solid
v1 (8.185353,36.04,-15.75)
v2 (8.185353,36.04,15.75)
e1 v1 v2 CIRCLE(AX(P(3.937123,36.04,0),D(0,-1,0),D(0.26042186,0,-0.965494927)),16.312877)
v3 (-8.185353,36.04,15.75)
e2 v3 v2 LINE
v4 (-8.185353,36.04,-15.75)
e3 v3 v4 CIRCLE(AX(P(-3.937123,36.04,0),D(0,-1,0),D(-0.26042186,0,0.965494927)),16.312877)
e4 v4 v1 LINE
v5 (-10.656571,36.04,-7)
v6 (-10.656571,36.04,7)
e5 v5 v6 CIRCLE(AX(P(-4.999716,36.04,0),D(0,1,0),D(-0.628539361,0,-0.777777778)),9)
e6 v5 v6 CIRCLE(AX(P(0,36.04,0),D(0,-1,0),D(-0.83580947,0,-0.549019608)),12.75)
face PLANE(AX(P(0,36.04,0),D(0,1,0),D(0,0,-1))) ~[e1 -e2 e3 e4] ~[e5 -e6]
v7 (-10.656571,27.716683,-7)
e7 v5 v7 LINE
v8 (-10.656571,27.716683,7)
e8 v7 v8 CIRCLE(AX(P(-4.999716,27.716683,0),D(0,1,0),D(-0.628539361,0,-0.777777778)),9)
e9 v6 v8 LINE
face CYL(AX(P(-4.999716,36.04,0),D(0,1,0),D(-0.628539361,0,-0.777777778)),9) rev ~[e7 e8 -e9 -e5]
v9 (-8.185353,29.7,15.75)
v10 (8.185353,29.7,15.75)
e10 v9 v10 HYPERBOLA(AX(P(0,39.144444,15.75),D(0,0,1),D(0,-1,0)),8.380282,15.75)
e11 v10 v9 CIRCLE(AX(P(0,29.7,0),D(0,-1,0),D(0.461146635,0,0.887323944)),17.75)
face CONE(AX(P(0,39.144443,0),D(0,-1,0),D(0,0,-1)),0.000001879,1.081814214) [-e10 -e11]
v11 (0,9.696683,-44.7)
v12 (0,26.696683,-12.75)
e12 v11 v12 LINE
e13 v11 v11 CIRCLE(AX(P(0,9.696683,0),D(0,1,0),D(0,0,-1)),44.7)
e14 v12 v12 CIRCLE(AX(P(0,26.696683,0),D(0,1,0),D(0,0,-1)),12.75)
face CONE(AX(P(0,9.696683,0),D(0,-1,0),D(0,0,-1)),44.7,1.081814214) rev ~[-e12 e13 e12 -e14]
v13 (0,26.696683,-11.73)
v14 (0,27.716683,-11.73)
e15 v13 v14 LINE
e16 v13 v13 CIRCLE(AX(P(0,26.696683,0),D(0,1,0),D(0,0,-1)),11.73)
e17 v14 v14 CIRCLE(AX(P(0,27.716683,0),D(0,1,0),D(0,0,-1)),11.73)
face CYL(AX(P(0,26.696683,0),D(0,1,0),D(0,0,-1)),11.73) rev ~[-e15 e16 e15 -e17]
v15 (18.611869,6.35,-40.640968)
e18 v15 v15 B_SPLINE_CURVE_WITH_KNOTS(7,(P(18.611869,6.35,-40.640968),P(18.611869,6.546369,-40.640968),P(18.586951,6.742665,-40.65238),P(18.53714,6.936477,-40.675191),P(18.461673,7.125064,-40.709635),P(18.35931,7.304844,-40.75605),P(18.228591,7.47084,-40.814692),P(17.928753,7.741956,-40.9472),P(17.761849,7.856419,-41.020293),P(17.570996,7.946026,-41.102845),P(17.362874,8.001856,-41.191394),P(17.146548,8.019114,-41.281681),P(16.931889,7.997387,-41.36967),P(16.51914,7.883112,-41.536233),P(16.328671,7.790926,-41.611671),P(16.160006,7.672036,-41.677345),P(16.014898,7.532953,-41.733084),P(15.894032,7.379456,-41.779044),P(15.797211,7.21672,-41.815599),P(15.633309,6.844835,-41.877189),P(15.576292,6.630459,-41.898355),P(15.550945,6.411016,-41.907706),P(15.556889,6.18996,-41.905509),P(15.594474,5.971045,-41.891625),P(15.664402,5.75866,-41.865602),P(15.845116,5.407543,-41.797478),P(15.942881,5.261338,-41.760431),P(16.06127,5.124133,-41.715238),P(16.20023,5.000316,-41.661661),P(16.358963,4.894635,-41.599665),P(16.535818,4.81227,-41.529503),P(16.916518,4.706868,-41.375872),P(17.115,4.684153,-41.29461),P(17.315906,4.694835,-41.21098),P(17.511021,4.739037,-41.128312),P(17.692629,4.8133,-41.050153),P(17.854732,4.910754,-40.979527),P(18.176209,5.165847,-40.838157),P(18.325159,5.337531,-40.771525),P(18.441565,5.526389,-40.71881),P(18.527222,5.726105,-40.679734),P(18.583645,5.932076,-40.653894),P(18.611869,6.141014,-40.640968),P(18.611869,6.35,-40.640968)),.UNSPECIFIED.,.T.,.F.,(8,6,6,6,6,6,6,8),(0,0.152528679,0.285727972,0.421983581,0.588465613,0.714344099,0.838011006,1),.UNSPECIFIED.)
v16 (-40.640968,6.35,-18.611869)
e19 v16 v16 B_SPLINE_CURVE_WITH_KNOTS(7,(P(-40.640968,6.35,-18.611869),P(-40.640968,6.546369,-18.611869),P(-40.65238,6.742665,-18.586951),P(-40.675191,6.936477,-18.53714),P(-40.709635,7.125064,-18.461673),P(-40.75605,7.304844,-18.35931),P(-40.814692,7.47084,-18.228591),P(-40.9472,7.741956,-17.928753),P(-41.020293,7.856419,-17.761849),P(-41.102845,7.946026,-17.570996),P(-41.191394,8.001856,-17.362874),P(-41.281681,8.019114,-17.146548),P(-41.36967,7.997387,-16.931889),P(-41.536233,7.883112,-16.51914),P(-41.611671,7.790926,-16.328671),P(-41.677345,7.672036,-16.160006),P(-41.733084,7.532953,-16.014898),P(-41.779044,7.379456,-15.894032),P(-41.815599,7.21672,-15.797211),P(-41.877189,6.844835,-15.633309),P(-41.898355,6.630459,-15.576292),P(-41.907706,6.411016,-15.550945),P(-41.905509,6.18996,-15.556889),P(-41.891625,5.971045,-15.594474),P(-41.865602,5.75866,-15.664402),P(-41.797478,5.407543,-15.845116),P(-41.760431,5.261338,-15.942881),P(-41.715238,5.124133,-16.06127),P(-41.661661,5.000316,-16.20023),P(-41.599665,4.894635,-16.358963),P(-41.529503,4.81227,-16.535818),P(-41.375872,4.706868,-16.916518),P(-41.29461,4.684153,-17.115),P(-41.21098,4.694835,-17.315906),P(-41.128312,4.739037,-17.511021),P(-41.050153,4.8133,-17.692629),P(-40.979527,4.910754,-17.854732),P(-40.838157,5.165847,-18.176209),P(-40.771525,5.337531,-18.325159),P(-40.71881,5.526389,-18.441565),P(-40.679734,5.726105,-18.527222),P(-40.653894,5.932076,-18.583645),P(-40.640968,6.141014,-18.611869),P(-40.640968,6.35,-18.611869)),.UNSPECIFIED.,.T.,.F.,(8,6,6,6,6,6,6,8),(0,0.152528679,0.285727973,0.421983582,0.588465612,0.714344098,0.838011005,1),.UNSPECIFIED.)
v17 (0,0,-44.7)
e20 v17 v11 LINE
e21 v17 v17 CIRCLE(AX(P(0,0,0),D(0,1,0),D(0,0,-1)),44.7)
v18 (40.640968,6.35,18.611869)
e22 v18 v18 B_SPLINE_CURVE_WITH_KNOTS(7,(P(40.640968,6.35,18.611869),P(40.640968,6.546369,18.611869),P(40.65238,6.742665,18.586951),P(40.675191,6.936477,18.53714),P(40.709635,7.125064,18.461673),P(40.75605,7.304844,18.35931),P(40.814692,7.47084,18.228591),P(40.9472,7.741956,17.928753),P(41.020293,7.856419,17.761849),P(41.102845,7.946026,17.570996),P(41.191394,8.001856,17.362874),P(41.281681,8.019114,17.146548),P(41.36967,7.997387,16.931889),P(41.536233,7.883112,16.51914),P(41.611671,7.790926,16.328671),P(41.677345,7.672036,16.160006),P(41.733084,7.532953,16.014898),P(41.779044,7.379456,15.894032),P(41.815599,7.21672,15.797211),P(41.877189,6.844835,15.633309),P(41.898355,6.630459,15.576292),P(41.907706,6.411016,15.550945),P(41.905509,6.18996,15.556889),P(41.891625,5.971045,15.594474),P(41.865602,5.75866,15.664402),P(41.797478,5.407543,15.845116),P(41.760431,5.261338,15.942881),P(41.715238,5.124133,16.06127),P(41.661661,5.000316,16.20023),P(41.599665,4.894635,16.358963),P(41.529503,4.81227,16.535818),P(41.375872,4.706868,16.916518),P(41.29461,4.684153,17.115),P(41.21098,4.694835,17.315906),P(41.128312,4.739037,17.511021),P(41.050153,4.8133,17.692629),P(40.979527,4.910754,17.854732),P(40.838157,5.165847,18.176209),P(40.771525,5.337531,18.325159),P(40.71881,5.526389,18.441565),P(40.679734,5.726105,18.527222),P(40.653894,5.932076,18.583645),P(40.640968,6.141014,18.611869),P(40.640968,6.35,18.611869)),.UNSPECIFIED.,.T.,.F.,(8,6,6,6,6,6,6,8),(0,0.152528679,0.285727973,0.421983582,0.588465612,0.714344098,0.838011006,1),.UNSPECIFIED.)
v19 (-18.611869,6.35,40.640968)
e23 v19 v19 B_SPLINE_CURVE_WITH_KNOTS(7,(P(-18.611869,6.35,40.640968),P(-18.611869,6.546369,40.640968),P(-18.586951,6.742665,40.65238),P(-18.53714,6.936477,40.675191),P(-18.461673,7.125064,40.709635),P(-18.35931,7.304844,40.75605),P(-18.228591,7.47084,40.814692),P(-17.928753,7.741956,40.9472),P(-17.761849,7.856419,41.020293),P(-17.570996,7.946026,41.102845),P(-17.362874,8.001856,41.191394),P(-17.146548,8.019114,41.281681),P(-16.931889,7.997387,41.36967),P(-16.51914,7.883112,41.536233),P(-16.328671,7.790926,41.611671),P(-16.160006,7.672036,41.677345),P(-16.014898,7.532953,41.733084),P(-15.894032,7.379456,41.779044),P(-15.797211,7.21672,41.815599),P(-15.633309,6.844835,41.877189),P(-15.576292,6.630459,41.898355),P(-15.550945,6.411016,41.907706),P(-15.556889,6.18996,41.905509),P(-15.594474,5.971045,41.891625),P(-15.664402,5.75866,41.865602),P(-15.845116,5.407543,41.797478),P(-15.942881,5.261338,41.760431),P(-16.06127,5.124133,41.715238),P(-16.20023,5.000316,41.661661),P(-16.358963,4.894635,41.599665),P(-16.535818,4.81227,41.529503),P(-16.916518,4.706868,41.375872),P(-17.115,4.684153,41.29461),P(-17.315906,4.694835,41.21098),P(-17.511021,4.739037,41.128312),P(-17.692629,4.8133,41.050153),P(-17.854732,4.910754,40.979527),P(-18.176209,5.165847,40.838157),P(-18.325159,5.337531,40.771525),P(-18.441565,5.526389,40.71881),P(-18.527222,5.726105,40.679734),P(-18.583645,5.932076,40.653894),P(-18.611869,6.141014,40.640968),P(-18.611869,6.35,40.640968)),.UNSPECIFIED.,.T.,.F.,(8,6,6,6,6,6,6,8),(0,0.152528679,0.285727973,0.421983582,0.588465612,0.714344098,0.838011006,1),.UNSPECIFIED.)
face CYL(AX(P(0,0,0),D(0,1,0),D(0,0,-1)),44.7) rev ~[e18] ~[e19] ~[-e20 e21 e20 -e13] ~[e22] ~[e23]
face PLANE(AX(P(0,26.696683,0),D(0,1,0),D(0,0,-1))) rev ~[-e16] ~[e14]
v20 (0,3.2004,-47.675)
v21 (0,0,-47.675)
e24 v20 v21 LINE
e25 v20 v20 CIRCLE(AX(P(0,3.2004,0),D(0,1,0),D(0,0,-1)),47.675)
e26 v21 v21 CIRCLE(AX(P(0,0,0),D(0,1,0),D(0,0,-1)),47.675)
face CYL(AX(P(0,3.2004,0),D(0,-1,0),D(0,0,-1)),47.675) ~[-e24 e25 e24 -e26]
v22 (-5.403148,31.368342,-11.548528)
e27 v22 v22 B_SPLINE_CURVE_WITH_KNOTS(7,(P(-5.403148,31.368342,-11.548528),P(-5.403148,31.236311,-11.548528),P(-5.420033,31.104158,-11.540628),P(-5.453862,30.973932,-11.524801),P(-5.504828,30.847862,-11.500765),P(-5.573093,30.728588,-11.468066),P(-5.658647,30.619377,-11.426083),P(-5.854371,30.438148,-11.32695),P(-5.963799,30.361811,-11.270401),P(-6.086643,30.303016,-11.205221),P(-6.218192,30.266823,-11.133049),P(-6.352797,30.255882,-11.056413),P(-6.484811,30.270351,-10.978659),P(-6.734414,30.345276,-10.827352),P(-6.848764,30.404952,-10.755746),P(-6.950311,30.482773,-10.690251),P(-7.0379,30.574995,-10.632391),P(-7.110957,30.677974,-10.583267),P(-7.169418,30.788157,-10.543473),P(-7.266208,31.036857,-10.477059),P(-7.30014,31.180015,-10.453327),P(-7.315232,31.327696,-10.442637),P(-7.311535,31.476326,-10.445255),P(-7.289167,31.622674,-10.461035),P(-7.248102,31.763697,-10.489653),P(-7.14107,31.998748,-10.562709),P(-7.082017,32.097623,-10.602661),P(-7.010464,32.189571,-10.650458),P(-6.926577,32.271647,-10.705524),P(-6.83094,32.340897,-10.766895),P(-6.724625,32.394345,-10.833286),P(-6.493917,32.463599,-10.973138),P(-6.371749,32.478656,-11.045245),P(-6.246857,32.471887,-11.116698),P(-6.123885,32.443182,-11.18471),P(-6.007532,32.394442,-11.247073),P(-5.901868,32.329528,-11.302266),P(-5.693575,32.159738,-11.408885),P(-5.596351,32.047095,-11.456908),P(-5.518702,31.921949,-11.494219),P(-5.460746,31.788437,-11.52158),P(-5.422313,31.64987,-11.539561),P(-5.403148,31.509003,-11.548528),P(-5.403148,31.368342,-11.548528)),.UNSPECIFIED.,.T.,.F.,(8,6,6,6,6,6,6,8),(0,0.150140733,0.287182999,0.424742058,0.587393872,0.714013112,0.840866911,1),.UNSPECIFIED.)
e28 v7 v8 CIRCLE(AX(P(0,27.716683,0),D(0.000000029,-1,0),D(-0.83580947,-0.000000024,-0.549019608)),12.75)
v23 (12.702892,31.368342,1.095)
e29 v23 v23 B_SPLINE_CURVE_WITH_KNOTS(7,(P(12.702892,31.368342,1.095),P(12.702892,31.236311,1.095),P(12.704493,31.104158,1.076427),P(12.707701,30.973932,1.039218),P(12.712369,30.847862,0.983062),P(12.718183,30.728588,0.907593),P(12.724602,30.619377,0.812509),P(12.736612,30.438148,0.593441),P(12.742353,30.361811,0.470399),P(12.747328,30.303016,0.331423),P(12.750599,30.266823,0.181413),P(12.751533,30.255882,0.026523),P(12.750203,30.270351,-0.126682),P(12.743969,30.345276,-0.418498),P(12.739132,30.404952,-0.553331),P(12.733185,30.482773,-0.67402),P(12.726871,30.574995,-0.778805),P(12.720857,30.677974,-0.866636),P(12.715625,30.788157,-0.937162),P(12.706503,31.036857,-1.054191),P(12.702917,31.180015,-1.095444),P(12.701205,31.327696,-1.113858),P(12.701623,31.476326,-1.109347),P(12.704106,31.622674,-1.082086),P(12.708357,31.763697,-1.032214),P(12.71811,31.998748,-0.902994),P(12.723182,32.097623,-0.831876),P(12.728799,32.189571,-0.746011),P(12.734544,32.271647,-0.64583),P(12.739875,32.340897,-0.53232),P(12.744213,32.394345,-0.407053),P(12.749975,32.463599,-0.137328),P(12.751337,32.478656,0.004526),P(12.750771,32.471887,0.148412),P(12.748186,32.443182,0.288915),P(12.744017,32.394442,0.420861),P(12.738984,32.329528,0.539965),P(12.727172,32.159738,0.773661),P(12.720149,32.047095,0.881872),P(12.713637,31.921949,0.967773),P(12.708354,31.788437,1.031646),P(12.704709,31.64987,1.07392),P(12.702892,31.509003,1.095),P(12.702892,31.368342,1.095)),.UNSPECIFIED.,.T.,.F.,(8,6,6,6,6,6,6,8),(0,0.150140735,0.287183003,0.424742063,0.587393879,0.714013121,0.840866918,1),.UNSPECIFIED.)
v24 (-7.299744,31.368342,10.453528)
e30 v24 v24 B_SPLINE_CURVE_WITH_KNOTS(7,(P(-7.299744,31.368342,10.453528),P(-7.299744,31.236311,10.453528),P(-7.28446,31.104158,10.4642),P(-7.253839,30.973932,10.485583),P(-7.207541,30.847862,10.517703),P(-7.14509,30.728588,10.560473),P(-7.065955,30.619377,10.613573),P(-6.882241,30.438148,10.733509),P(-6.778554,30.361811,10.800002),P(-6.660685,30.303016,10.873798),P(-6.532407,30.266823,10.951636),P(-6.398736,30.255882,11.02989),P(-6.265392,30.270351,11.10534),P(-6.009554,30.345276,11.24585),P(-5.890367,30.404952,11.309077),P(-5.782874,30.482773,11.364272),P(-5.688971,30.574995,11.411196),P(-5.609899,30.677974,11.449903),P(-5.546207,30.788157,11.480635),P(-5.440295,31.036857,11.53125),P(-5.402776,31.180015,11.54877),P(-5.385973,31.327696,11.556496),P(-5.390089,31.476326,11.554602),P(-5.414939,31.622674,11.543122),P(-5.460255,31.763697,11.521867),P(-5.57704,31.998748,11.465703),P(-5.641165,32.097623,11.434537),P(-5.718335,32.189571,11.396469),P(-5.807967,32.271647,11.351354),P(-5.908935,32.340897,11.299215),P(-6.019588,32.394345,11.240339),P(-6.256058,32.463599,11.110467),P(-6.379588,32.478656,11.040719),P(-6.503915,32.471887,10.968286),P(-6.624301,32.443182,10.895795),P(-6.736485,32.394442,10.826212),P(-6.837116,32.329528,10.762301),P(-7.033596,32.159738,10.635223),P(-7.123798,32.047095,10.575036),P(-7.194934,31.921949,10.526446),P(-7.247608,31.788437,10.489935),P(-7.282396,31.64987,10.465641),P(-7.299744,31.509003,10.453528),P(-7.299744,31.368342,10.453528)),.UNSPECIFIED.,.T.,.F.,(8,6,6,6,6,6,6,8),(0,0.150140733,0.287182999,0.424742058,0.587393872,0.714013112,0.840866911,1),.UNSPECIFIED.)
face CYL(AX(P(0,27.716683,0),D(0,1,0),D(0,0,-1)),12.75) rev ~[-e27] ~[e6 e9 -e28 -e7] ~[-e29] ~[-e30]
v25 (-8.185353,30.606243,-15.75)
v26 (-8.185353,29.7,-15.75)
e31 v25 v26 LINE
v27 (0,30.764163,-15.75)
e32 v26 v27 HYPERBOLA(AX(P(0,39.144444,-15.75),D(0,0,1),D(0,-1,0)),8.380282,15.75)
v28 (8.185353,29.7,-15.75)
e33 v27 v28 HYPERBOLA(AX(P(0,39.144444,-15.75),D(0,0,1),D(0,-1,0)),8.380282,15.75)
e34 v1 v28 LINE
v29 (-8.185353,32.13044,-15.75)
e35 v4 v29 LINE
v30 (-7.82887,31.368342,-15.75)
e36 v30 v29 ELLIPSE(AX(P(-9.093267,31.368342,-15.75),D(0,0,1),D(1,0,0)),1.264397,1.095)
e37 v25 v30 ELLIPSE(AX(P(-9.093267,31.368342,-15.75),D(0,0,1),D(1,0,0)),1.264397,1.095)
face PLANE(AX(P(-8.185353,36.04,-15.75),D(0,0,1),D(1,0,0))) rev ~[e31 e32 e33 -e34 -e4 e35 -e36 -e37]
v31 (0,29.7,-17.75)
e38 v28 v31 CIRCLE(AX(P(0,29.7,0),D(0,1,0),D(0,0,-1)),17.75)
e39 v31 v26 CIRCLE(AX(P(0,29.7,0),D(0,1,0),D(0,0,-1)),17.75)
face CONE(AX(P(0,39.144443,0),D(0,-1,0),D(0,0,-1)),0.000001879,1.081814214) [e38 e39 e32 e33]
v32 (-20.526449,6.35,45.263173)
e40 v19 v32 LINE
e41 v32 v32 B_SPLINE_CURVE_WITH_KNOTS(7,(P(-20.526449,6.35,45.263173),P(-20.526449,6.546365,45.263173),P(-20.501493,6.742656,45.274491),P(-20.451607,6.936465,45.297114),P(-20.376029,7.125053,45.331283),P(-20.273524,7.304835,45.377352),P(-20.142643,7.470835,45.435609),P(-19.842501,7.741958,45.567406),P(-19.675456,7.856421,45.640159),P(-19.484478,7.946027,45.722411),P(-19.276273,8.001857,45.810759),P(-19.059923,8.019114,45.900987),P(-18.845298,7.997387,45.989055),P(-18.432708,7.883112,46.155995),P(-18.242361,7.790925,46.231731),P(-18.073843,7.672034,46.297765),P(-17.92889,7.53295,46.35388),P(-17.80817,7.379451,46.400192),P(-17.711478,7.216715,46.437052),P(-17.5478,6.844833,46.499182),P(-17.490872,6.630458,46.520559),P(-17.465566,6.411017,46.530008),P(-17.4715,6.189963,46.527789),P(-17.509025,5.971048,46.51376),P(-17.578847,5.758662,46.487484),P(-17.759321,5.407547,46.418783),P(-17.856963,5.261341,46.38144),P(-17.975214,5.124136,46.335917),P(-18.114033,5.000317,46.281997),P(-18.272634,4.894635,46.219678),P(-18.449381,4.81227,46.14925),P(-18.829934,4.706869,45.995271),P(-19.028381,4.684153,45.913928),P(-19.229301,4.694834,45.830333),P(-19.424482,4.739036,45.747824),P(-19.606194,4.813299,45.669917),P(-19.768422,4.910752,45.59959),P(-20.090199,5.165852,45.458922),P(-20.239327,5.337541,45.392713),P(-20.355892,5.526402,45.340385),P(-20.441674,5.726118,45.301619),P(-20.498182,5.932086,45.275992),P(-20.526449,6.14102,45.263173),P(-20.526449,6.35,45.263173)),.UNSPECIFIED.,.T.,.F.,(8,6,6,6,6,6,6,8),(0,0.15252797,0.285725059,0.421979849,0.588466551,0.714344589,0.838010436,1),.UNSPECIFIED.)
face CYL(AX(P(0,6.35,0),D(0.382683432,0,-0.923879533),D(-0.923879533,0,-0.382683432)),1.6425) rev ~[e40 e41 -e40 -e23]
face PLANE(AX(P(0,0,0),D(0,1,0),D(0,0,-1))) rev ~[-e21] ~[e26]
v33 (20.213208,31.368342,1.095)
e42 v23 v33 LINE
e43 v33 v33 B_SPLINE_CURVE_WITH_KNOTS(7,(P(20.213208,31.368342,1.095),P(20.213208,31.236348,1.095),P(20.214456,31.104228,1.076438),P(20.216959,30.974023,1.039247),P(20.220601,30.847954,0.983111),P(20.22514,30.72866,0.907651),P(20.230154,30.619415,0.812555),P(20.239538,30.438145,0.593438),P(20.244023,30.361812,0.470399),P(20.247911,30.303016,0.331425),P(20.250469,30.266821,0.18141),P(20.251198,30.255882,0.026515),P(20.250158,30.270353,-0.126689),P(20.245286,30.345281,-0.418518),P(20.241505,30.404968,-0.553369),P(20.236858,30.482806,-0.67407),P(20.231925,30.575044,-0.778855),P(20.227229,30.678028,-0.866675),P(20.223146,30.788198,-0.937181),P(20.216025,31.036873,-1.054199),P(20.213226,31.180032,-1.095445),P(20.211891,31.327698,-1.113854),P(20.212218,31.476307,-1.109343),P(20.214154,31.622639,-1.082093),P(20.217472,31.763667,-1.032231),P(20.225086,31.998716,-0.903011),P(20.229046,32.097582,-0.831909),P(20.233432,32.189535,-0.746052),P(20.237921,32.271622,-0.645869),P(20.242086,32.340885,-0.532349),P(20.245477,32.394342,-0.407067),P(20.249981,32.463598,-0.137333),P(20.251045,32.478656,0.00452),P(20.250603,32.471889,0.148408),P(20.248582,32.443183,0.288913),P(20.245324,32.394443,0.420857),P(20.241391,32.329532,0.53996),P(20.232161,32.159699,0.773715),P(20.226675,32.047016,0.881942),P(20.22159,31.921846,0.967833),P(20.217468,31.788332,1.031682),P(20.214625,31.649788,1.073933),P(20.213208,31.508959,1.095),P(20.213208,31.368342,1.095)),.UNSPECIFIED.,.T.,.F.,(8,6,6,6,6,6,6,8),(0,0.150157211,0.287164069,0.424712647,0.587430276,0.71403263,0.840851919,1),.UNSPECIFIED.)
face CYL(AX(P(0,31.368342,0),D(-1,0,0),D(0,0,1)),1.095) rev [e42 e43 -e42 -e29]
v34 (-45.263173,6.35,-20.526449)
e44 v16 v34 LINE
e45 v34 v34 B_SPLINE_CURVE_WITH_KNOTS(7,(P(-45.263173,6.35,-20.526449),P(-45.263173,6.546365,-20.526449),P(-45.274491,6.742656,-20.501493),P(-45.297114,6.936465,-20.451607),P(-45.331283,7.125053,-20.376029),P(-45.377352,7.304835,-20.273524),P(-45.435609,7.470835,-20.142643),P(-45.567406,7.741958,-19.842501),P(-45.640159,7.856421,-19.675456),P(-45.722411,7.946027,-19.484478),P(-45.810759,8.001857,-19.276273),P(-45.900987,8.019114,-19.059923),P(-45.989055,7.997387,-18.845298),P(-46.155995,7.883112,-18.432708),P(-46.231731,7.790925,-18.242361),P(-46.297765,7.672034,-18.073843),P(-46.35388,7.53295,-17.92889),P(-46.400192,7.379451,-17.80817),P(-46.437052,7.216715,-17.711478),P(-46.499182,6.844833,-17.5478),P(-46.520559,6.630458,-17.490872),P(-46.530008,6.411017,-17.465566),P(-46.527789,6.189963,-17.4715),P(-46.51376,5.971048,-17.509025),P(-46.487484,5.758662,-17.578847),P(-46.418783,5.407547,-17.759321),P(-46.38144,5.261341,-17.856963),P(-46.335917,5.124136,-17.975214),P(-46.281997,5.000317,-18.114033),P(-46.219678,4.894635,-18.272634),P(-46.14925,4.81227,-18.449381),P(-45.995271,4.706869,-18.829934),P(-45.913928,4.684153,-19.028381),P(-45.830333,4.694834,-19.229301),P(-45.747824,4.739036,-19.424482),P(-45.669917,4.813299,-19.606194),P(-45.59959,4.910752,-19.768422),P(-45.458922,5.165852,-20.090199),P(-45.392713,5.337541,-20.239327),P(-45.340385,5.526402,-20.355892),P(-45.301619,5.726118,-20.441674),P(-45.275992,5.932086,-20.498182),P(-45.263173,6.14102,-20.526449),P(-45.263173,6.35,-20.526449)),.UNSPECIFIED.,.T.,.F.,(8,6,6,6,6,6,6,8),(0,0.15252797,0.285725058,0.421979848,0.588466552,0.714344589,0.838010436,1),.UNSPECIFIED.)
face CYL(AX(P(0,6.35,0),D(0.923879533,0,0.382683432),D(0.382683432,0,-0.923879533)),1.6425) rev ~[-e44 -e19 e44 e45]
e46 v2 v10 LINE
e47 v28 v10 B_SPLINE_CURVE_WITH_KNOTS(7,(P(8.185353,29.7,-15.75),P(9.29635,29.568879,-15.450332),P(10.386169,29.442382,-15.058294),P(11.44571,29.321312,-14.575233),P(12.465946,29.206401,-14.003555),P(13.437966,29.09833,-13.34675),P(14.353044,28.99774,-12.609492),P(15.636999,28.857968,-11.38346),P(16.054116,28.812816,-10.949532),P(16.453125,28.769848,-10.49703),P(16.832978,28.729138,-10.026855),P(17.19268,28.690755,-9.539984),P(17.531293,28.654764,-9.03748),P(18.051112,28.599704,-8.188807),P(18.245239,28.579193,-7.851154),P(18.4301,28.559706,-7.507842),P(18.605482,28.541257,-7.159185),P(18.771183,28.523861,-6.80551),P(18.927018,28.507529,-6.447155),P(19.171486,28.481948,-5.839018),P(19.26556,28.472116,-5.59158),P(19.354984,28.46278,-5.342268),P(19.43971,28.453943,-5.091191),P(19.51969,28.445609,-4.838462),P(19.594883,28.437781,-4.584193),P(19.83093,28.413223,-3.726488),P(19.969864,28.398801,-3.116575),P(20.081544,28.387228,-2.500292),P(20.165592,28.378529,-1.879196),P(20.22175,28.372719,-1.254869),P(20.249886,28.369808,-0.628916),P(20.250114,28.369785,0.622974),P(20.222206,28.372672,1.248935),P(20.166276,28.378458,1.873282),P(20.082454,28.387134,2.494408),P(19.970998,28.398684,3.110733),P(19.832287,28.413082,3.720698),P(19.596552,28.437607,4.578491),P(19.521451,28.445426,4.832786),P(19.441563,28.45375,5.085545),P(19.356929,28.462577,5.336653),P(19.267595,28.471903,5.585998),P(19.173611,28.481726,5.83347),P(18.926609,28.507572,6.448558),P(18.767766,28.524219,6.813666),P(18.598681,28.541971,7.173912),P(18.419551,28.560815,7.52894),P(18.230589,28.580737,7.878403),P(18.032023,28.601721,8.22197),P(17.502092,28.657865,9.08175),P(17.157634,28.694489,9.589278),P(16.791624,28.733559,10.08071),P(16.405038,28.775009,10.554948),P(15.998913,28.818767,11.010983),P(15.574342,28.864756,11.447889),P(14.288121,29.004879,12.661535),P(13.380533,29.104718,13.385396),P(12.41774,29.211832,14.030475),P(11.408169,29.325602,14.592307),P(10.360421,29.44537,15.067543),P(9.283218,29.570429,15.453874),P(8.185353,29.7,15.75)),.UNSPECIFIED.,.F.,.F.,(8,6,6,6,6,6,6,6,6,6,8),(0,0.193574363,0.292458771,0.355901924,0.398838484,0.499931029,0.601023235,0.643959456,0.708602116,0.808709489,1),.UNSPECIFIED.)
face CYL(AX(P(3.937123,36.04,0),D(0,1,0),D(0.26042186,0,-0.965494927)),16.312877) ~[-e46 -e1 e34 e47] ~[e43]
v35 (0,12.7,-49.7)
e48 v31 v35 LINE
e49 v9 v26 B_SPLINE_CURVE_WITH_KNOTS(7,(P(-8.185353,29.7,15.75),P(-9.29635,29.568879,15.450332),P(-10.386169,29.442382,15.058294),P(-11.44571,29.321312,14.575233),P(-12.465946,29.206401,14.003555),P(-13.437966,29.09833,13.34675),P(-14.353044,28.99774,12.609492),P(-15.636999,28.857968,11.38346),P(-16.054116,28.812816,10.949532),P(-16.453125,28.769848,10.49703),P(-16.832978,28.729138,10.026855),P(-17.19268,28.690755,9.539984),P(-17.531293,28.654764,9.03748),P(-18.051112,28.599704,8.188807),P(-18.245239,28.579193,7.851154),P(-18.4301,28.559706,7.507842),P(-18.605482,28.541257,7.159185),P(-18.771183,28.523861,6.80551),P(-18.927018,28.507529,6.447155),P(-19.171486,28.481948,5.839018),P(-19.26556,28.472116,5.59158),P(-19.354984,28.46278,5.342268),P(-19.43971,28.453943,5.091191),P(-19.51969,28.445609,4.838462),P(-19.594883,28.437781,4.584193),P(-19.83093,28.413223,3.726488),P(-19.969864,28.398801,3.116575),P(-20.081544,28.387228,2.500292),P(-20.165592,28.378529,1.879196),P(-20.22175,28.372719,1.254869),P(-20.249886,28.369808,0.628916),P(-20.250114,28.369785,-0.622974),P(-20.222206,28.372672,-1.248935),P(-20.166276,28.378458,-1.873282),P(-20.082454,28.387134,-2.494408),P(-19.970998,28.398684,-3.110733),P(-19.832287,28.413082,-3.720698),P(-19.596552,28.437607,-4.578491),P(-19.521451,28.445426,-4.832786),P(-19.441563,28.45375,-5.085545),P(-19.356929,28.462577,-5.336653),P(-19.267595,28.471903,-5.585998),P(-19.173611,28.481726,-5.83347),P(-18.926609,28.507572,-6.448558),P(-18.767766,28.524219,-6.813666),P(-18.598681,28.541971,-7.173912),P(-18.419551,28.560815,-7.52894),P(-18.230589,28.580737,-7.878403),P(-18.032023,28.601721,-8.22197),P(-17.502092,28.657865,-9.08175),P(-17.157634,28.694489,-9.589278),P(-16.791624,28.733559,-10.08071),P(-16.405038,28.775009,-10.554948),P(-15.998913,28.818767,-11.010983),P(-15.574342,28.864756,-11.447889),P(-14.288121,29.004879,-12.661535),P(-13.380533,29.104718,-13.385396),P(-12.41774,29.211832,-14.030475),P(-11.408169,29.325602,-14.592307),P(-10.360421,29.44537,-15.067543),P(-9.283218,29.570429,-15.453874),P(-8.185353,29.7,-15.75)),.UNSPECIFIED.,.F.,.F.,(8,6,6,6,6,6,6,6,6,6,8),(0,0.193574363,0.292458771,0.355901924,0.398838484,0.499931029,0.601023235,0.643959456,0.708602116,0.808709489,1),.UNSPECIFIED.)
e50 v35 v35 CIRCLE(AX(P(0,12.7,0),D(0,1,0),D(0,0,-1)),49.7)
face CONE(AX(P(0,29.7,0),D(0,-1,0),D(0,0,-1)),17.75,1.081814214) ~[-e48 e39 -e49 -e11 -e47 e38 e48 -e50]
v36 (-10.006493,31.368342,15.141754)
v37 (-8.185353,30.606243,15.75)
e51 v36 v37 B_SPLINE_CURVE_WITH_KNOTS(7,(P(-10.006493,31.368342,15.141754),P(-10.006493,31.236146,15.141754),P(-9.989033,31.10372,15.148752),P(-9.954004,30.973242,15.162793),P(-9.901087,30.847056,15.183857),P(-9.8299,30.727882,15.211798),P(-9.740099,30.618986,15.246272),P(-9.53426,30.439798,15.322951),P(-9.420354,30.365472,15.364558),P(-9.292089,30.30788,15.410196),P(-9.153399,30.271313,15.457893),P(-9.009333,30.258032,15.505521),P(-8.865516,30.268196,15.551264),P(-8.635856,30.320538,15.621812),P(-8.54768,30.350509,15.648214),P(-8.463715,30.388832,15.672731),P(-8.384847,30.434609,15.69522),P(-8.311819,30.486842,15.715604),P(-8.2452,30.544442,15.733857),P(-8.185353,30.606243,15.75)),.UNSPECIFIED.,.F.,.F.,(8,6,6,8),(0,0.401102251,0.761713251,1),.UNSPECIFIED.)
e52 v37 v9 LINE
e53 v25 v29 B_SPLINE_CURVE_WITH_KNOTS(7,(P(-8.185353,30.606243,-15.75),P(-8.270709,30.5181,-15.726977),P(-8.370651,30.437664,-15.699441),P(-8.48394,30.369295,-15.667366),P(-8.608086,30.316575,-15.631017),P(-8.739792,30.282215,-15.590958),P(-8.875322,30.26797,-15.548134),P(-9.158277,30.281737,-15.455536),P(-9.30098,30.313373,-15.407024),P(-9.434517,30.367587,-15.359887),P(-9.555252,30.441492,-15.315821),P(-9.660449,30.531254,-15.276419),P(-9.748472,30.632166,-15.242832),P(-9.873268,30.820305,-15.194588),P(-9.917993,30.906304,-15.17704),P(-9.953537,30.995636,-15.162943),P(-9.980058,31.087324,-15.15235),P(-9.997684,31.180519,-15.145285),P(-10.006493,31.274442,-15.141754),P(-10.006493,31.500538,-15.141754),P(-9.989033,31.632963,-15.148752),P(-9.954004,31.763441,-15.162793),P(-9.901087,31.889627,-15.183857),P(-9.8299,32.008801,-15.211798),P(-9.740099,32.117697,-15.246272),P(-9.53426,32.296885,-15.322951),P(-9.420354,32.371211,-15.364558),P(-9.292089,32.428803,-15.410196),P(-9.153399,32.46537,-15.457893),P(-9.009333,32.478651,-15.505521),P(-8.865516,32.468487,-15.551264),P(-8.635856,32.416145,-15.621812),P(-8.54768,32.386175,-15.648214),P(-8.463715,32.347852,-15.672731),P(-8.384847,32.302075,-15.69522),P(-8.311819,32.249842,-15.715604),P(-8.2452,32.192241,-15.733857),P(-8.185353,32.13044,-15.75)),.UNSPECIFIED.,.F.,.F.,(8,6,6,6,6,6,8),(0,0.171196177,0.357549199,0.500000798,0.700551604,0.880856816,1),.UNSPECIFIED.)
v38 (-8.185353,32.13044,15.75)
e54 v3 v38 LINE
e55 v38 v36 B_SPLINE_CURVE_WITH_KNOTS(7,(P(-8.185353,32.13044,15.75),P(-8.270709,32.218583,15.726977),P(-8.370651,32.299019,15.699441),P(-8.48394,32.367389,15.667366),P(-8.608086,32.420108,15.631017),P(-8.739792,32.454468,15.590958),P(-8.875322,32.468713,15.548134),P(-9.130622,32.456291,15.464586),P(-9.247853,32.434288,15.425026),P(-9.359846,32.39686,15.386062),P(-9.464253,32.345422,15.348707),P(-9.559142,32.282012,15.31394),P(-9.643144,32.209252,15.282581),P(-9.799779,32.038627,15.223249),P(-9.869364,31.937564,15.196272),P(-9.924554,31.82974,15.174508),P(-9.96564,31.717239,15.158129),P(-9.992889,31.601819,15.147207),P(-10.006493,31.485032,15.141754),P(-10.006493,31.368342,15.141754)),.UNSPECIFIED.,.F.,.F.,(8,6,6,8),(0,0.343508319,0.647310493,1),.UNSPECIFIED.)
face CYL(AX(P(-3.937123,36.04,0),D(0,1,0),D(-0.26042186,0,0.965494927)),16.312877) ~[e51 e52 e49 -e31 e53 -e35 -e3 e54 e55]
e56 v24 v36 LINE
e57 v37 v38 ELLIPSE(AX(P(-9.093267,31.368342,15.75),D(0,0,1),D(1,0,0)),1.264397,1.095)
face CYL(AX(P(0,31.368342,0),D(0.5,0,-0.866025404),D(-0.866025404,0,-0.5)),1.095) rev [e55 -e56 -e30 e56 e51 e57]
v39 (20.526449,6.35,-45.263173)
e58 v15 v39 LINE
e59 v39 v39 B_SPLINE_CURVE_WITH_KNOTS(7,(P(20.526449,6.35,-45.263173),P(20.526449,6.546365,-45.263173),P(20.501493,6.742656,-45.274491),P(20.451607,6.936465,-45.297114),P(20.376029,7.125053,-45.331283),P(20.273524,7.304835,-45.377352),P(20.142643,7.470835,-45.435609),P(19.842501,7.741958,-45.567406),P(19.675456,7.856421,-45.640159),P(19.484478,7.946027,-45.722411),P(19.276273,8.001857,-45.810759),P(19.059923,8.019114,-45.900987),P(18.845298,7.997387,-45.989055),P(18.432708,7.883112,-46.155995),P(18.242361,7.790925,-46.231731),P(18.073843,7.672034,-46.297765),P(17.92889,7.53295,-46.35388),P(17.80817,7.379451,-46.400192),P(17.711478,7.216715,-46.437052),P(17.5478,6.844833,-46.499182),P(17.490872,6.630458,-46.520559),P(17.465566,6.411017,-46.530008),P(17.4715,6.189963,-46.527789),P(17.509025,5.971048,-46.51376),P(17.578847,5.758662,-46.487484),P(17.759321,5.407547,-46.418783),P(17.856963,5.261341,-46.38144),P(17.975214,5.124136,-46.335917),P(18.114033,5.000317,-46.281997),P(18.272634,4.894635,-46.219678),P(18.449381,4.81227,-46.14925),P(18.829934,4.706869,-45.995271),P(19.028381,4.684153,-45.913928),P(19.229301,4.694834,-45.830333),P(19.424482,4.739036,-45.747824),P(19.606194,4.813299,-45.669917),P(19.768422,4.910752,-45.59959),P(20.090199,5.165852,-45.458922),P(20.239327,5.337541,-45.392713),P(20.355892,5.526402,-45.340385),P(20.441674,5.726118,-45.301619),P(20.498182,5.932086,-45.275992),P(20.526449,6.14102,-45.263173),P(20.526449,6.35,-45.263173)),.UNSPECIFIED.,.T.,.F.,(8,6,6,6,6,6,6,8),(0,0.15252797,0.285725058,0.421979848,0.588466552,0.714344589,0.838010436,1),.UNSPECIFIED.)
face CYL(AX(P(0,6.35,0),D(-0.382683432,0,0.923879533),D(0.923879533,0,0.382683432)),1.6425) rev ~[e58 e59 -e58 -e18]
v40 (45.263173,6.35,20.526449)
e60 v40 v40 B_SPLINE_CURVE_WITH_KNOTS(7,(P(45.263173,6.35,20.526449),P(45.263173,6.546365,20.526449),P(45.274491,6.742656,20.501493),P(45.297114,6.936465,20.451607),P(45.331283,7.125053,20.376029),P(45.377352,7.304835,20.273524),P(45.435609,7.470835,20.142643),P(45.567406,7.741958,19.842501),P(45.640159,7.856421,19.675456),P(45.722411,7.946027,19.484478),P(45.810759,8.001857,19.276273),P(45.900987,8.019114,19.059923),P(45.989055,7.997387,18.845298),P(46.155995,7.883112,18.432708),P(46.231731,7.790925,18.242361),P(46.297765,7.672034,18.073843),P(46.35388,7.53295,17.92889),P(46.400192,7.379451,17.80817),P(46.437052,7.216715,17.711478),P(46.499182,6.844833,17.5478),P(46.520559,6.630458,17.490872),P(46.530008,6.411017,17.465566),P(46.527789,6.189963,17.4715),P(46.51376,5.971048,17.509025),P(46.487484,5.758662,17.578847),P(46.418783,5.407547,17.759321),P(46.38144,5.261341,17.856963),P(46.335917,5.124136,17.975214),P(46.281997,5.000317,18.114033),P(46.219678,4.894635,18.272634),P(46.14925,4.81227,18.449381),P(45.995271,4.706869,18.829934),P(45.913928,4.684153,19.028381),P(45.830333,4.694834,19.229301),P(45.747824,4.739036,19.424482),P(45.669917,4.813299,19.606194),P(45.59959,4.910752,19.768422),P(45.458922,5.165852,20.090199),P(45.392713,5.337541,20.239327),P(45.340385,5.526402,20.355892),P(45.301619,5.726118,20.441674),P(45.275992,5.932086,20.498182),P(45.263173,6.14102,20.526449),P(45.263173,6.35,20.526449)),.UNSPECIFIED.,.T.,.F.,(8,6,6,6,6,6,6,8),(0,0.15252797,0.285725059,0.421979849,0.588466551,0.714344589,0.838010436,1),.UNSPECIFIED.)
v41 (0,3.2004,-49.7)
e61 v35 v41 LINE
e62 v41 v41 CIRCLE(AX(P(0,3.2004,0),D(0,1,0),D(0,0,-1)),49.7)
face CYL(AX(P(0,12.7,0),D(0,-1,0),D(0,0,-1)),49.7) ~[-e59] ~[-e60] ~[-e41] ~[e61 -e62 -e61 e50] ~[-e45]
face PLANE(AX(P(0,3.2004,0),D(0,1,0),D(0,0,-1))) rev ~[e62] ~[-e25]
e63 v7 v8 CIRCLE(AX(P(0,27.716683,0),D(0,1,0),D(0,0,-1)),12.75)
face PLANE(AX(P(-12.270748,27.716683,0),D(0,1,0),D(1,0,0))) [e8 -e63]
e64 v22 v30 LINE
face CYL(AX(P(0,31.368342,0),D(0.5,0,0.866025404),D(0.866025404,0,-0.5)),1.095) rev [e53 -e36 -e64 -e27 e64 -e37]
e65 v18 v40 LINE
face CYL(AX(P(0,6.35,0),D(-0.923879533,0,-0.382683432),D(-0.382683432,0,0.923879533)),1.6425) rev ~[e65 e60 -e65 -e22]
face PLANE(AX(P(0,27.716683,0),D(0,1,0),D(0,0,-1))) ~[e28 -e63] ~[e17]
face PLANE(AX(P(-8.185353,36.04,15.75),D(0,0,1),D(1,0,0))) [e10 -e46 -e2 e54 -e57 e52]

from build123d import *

# Parameters (mm, degrees)
SKETCH12_R          = 1.6425
CUT_EXTRUDE6_DEPTH  = 65.936179354
CUT_EXTRUDE7_REACH  = 38.04
SKETCH13_W          = 16.370705544
SKETCH13_H          = 2
BOSS_EXTRUDE1_REACH = 38.04
SKETCH14_R          = 12.75
CUT_EXTRUDE8_DEPTH  = 8.323317
SKETCH16_R          = 1.095
CUT_EXTRUDE9_DEPTH  = 50.7000001
CIRPATTERN2_COUNT   = 3
CIRPATTERN3_COUNT   = 4


with BuildPart() as part:
    # Sketch2 → Revolve1 (revolve)
    with BuildSketch(Plane.XY, mode=Mode.PRIVATE) as revolve1_sk:
        Polygon((49.7, 12.7), (49.7, 3.2004), (47.675, 3.2004), (47.675, 0), (44.7, 0), (44.7, 9.696683305), (12.75, 26.696683305), (11.73, 26.696683305), (11.73, 27.716683305), (12.75, 27.716683305), (12.75, 36.04), (17.75, 36.04), (17.75, 29.7), align=None)
    revolve(revolve1_sk.sketch.rotate(Axis((0, 0, 0), (0, 1, 0)), 90), axis=Axis((0, 0, 0), (0, 1, 0)))  # turned: the seam where the file's is

    # Sketch12 → Cut-Extrude6 (cut, through all)
    with BuildSketch(Plane(origin=(0, 0, 0), x_dir=(0.923879533, 0, 0.382683432), z_dir=(-0.382683432, 0, 0.923879533))):
        with Locations((0, 6.35)):
            Circle(SKETCH12_R)
    cut_extrude6 = extrude(amount=-CUT_EXTRUDE6_DEPTH, mode=Mode.SUBTRACT)

    # Cut-Extrude7: up to this cone (the profile starts outside it)
    cut_extrude7_end = Plane(origin=(0, 36.04, 0), z_dir=(0, -1, 0)).offset(-3.104443444) * Cone(1.879e-06, 89.232542042, 47.478972856, align=(Align.CENTER, Align.CENTER, Align.MIN), mode=Mode.PRIVATE)
    # Sketch13 → Cut-Extrude7 (cut, up to the surface)
    with BuildSketch(Plane(origin=(0, 36.04, 0), x_dir=(1, 0, 0), z_dir=(0, 1, 0)), mode=Mode.PRIVATE) as cut_extrude7_sk1:
        with Locations((0, 16.75)):
            Rectangle(SKETCH13_W, SKETCH13_H)
    cut_extrude7_tool1 = extrude(cut_extrude7_sk1.sketch, amount=-CUT_EXTRUDE7_REACH, mode=Mode.PRIVATE) - cut_extrude7_end
    add(cut_extrude7_tool1.solids().sort_by_distance((0, 36.04, -16.75))[0], mode=Mode.SUBTRACT)
    # Sketch13 → Cut-Extrude7 (cut, up to the surface)
    with BuildSketch(Plane(origin=(0, 36.04, 0), x_dir=(1, 0, 0), z_dir=(0, 1, 0)), mode=Mode.PRIVATE) as cut_extrude7_sk2:
        with Locations((0, -16.75)):
            Rectangle(SKETCH13_W, SKETCH13_H)
    cut_extrude7_tool2 = extrude(cut_extrude7_sk2.sketch, amount=-CUT_EXTRUDE7_REACH, mode=Mode.PRIVATE) - cut_extrude7_end
    add(cut_extrude7_tool2.solids().sort_by_distance((0, 36.04, 16.75))[0], mode=Mode.SUBTRACT)

    # Boss-Extrude1: up to this cone (the profile starts outside it)
    boss_extrude1_end = Plane(origin=(0, 36.04, 0), z_dir=(0, -1, 0)).offset(-3.104443444) * Cone(1.879e-06, 89.232542042, 47.478972856, align=(Align.CENTER, Align.CENTER, Align.MIN), mode=Mode.PRIVATE)
    # Sketch14 → Boss-Extrude1 (add, up to the surface)
    with BuildSketch(Plane(origin=(0, 36.04, 0), x_dir=(1, 0, 0), z_dir=(0, 1, 0)), mode=Mode.PRIVATE) as boss_extrude1_sk1:
        with BuildLine():
            Line((-8.185352772, 15.75), (8.185352772, 15.75))
            ThreePointArc((8.185352772, 15.75), (20.25, 0), (8.185352772, -15.75))
            Line((8.185352772, -15.75), (-8.185352772, -15.75))
            ThreePointArc((-8.185352772, -15.75), (-20.25, 0), (-8.185352772, 15.75))
        make_face()
        with Locations(Location((0, 0, 0), (0, 0, 90))):  # turned: the seam where the file's is
            Circle(SKETCH14_R, mode=Mode.SUBTRACT)
    boss_extrude1_tool1 = extrude(boss_extrude1_sk1.sketch, amount=-BOSS_EXTRUDE1_REACH, mode=Mode.PRIVATE) - boss_extrude1_end
    add(boss_extrude1_tool1.solids().sort_by_distance((0, 36.04, 15.236921))[0])

    # Sketch15 → Cut-Extrude8 (cut)
    with BuildSketch(Plane(origin=(0, 36.04, 0), x_dir=(1, 0, 0), z_dir=(0, 1, 0))):
        with BuildLine():
            ThreePointArc((-10.656570743, 7), (-13.999716493, 0), (-10.656570743, -7))
            ThreePointArc((-10.656570743, -7), (-12.75, 0), (-10.656570743, 7))
        make_face()
    extrude(amount=-CUT_EXTRUDE8_DEPTH, mode=Mode.SUBTRACT)

    # Sketch16 → Cut-Extrude9 (cut, through all)
    with BuildSketch(Plane(origin=(0, 0, 0), x_dir=(0, 0, -1), z_dir=(1, 0, 0))):
        with Locations(Location((0, 31.368341653, 0), (0, 0, 180))):  # turned: the seam where the file's is
            Circle(SKETCH16_R)
    cut_extrude9 = extrude(amount=CUT_EXTRUDE9_DEPTH, mode=Mode.SUBTRACT)

    # CirPattern2: Cut-Extrude9 ×3 about axis
    cirpattern2_axis = Axis((0, 13.335, 0), (0, -1, 0))
    for i in range(1, CIRPATTERN2_COUNT):
        add(cut_extrude9.rotate(cirpattern2_axis, i * 360 / CIRPATTERN2_COUNT), mode=Mode.SUBTRACT)

    # CirPattern3: Cut-Extrude6 ×4 about axis
    cirpattern3_axis = Axis((0, 13.335, 0), (0, -1, 0))
    for i in range(1, CIRPATTERN3_COUNT):
        add(cut_extrude6.rotate(cirpattern3_axis, i * 360 / CIRPATTERN3_COUNT), mode=Mode.SUBTRACT)


solid = part.part
